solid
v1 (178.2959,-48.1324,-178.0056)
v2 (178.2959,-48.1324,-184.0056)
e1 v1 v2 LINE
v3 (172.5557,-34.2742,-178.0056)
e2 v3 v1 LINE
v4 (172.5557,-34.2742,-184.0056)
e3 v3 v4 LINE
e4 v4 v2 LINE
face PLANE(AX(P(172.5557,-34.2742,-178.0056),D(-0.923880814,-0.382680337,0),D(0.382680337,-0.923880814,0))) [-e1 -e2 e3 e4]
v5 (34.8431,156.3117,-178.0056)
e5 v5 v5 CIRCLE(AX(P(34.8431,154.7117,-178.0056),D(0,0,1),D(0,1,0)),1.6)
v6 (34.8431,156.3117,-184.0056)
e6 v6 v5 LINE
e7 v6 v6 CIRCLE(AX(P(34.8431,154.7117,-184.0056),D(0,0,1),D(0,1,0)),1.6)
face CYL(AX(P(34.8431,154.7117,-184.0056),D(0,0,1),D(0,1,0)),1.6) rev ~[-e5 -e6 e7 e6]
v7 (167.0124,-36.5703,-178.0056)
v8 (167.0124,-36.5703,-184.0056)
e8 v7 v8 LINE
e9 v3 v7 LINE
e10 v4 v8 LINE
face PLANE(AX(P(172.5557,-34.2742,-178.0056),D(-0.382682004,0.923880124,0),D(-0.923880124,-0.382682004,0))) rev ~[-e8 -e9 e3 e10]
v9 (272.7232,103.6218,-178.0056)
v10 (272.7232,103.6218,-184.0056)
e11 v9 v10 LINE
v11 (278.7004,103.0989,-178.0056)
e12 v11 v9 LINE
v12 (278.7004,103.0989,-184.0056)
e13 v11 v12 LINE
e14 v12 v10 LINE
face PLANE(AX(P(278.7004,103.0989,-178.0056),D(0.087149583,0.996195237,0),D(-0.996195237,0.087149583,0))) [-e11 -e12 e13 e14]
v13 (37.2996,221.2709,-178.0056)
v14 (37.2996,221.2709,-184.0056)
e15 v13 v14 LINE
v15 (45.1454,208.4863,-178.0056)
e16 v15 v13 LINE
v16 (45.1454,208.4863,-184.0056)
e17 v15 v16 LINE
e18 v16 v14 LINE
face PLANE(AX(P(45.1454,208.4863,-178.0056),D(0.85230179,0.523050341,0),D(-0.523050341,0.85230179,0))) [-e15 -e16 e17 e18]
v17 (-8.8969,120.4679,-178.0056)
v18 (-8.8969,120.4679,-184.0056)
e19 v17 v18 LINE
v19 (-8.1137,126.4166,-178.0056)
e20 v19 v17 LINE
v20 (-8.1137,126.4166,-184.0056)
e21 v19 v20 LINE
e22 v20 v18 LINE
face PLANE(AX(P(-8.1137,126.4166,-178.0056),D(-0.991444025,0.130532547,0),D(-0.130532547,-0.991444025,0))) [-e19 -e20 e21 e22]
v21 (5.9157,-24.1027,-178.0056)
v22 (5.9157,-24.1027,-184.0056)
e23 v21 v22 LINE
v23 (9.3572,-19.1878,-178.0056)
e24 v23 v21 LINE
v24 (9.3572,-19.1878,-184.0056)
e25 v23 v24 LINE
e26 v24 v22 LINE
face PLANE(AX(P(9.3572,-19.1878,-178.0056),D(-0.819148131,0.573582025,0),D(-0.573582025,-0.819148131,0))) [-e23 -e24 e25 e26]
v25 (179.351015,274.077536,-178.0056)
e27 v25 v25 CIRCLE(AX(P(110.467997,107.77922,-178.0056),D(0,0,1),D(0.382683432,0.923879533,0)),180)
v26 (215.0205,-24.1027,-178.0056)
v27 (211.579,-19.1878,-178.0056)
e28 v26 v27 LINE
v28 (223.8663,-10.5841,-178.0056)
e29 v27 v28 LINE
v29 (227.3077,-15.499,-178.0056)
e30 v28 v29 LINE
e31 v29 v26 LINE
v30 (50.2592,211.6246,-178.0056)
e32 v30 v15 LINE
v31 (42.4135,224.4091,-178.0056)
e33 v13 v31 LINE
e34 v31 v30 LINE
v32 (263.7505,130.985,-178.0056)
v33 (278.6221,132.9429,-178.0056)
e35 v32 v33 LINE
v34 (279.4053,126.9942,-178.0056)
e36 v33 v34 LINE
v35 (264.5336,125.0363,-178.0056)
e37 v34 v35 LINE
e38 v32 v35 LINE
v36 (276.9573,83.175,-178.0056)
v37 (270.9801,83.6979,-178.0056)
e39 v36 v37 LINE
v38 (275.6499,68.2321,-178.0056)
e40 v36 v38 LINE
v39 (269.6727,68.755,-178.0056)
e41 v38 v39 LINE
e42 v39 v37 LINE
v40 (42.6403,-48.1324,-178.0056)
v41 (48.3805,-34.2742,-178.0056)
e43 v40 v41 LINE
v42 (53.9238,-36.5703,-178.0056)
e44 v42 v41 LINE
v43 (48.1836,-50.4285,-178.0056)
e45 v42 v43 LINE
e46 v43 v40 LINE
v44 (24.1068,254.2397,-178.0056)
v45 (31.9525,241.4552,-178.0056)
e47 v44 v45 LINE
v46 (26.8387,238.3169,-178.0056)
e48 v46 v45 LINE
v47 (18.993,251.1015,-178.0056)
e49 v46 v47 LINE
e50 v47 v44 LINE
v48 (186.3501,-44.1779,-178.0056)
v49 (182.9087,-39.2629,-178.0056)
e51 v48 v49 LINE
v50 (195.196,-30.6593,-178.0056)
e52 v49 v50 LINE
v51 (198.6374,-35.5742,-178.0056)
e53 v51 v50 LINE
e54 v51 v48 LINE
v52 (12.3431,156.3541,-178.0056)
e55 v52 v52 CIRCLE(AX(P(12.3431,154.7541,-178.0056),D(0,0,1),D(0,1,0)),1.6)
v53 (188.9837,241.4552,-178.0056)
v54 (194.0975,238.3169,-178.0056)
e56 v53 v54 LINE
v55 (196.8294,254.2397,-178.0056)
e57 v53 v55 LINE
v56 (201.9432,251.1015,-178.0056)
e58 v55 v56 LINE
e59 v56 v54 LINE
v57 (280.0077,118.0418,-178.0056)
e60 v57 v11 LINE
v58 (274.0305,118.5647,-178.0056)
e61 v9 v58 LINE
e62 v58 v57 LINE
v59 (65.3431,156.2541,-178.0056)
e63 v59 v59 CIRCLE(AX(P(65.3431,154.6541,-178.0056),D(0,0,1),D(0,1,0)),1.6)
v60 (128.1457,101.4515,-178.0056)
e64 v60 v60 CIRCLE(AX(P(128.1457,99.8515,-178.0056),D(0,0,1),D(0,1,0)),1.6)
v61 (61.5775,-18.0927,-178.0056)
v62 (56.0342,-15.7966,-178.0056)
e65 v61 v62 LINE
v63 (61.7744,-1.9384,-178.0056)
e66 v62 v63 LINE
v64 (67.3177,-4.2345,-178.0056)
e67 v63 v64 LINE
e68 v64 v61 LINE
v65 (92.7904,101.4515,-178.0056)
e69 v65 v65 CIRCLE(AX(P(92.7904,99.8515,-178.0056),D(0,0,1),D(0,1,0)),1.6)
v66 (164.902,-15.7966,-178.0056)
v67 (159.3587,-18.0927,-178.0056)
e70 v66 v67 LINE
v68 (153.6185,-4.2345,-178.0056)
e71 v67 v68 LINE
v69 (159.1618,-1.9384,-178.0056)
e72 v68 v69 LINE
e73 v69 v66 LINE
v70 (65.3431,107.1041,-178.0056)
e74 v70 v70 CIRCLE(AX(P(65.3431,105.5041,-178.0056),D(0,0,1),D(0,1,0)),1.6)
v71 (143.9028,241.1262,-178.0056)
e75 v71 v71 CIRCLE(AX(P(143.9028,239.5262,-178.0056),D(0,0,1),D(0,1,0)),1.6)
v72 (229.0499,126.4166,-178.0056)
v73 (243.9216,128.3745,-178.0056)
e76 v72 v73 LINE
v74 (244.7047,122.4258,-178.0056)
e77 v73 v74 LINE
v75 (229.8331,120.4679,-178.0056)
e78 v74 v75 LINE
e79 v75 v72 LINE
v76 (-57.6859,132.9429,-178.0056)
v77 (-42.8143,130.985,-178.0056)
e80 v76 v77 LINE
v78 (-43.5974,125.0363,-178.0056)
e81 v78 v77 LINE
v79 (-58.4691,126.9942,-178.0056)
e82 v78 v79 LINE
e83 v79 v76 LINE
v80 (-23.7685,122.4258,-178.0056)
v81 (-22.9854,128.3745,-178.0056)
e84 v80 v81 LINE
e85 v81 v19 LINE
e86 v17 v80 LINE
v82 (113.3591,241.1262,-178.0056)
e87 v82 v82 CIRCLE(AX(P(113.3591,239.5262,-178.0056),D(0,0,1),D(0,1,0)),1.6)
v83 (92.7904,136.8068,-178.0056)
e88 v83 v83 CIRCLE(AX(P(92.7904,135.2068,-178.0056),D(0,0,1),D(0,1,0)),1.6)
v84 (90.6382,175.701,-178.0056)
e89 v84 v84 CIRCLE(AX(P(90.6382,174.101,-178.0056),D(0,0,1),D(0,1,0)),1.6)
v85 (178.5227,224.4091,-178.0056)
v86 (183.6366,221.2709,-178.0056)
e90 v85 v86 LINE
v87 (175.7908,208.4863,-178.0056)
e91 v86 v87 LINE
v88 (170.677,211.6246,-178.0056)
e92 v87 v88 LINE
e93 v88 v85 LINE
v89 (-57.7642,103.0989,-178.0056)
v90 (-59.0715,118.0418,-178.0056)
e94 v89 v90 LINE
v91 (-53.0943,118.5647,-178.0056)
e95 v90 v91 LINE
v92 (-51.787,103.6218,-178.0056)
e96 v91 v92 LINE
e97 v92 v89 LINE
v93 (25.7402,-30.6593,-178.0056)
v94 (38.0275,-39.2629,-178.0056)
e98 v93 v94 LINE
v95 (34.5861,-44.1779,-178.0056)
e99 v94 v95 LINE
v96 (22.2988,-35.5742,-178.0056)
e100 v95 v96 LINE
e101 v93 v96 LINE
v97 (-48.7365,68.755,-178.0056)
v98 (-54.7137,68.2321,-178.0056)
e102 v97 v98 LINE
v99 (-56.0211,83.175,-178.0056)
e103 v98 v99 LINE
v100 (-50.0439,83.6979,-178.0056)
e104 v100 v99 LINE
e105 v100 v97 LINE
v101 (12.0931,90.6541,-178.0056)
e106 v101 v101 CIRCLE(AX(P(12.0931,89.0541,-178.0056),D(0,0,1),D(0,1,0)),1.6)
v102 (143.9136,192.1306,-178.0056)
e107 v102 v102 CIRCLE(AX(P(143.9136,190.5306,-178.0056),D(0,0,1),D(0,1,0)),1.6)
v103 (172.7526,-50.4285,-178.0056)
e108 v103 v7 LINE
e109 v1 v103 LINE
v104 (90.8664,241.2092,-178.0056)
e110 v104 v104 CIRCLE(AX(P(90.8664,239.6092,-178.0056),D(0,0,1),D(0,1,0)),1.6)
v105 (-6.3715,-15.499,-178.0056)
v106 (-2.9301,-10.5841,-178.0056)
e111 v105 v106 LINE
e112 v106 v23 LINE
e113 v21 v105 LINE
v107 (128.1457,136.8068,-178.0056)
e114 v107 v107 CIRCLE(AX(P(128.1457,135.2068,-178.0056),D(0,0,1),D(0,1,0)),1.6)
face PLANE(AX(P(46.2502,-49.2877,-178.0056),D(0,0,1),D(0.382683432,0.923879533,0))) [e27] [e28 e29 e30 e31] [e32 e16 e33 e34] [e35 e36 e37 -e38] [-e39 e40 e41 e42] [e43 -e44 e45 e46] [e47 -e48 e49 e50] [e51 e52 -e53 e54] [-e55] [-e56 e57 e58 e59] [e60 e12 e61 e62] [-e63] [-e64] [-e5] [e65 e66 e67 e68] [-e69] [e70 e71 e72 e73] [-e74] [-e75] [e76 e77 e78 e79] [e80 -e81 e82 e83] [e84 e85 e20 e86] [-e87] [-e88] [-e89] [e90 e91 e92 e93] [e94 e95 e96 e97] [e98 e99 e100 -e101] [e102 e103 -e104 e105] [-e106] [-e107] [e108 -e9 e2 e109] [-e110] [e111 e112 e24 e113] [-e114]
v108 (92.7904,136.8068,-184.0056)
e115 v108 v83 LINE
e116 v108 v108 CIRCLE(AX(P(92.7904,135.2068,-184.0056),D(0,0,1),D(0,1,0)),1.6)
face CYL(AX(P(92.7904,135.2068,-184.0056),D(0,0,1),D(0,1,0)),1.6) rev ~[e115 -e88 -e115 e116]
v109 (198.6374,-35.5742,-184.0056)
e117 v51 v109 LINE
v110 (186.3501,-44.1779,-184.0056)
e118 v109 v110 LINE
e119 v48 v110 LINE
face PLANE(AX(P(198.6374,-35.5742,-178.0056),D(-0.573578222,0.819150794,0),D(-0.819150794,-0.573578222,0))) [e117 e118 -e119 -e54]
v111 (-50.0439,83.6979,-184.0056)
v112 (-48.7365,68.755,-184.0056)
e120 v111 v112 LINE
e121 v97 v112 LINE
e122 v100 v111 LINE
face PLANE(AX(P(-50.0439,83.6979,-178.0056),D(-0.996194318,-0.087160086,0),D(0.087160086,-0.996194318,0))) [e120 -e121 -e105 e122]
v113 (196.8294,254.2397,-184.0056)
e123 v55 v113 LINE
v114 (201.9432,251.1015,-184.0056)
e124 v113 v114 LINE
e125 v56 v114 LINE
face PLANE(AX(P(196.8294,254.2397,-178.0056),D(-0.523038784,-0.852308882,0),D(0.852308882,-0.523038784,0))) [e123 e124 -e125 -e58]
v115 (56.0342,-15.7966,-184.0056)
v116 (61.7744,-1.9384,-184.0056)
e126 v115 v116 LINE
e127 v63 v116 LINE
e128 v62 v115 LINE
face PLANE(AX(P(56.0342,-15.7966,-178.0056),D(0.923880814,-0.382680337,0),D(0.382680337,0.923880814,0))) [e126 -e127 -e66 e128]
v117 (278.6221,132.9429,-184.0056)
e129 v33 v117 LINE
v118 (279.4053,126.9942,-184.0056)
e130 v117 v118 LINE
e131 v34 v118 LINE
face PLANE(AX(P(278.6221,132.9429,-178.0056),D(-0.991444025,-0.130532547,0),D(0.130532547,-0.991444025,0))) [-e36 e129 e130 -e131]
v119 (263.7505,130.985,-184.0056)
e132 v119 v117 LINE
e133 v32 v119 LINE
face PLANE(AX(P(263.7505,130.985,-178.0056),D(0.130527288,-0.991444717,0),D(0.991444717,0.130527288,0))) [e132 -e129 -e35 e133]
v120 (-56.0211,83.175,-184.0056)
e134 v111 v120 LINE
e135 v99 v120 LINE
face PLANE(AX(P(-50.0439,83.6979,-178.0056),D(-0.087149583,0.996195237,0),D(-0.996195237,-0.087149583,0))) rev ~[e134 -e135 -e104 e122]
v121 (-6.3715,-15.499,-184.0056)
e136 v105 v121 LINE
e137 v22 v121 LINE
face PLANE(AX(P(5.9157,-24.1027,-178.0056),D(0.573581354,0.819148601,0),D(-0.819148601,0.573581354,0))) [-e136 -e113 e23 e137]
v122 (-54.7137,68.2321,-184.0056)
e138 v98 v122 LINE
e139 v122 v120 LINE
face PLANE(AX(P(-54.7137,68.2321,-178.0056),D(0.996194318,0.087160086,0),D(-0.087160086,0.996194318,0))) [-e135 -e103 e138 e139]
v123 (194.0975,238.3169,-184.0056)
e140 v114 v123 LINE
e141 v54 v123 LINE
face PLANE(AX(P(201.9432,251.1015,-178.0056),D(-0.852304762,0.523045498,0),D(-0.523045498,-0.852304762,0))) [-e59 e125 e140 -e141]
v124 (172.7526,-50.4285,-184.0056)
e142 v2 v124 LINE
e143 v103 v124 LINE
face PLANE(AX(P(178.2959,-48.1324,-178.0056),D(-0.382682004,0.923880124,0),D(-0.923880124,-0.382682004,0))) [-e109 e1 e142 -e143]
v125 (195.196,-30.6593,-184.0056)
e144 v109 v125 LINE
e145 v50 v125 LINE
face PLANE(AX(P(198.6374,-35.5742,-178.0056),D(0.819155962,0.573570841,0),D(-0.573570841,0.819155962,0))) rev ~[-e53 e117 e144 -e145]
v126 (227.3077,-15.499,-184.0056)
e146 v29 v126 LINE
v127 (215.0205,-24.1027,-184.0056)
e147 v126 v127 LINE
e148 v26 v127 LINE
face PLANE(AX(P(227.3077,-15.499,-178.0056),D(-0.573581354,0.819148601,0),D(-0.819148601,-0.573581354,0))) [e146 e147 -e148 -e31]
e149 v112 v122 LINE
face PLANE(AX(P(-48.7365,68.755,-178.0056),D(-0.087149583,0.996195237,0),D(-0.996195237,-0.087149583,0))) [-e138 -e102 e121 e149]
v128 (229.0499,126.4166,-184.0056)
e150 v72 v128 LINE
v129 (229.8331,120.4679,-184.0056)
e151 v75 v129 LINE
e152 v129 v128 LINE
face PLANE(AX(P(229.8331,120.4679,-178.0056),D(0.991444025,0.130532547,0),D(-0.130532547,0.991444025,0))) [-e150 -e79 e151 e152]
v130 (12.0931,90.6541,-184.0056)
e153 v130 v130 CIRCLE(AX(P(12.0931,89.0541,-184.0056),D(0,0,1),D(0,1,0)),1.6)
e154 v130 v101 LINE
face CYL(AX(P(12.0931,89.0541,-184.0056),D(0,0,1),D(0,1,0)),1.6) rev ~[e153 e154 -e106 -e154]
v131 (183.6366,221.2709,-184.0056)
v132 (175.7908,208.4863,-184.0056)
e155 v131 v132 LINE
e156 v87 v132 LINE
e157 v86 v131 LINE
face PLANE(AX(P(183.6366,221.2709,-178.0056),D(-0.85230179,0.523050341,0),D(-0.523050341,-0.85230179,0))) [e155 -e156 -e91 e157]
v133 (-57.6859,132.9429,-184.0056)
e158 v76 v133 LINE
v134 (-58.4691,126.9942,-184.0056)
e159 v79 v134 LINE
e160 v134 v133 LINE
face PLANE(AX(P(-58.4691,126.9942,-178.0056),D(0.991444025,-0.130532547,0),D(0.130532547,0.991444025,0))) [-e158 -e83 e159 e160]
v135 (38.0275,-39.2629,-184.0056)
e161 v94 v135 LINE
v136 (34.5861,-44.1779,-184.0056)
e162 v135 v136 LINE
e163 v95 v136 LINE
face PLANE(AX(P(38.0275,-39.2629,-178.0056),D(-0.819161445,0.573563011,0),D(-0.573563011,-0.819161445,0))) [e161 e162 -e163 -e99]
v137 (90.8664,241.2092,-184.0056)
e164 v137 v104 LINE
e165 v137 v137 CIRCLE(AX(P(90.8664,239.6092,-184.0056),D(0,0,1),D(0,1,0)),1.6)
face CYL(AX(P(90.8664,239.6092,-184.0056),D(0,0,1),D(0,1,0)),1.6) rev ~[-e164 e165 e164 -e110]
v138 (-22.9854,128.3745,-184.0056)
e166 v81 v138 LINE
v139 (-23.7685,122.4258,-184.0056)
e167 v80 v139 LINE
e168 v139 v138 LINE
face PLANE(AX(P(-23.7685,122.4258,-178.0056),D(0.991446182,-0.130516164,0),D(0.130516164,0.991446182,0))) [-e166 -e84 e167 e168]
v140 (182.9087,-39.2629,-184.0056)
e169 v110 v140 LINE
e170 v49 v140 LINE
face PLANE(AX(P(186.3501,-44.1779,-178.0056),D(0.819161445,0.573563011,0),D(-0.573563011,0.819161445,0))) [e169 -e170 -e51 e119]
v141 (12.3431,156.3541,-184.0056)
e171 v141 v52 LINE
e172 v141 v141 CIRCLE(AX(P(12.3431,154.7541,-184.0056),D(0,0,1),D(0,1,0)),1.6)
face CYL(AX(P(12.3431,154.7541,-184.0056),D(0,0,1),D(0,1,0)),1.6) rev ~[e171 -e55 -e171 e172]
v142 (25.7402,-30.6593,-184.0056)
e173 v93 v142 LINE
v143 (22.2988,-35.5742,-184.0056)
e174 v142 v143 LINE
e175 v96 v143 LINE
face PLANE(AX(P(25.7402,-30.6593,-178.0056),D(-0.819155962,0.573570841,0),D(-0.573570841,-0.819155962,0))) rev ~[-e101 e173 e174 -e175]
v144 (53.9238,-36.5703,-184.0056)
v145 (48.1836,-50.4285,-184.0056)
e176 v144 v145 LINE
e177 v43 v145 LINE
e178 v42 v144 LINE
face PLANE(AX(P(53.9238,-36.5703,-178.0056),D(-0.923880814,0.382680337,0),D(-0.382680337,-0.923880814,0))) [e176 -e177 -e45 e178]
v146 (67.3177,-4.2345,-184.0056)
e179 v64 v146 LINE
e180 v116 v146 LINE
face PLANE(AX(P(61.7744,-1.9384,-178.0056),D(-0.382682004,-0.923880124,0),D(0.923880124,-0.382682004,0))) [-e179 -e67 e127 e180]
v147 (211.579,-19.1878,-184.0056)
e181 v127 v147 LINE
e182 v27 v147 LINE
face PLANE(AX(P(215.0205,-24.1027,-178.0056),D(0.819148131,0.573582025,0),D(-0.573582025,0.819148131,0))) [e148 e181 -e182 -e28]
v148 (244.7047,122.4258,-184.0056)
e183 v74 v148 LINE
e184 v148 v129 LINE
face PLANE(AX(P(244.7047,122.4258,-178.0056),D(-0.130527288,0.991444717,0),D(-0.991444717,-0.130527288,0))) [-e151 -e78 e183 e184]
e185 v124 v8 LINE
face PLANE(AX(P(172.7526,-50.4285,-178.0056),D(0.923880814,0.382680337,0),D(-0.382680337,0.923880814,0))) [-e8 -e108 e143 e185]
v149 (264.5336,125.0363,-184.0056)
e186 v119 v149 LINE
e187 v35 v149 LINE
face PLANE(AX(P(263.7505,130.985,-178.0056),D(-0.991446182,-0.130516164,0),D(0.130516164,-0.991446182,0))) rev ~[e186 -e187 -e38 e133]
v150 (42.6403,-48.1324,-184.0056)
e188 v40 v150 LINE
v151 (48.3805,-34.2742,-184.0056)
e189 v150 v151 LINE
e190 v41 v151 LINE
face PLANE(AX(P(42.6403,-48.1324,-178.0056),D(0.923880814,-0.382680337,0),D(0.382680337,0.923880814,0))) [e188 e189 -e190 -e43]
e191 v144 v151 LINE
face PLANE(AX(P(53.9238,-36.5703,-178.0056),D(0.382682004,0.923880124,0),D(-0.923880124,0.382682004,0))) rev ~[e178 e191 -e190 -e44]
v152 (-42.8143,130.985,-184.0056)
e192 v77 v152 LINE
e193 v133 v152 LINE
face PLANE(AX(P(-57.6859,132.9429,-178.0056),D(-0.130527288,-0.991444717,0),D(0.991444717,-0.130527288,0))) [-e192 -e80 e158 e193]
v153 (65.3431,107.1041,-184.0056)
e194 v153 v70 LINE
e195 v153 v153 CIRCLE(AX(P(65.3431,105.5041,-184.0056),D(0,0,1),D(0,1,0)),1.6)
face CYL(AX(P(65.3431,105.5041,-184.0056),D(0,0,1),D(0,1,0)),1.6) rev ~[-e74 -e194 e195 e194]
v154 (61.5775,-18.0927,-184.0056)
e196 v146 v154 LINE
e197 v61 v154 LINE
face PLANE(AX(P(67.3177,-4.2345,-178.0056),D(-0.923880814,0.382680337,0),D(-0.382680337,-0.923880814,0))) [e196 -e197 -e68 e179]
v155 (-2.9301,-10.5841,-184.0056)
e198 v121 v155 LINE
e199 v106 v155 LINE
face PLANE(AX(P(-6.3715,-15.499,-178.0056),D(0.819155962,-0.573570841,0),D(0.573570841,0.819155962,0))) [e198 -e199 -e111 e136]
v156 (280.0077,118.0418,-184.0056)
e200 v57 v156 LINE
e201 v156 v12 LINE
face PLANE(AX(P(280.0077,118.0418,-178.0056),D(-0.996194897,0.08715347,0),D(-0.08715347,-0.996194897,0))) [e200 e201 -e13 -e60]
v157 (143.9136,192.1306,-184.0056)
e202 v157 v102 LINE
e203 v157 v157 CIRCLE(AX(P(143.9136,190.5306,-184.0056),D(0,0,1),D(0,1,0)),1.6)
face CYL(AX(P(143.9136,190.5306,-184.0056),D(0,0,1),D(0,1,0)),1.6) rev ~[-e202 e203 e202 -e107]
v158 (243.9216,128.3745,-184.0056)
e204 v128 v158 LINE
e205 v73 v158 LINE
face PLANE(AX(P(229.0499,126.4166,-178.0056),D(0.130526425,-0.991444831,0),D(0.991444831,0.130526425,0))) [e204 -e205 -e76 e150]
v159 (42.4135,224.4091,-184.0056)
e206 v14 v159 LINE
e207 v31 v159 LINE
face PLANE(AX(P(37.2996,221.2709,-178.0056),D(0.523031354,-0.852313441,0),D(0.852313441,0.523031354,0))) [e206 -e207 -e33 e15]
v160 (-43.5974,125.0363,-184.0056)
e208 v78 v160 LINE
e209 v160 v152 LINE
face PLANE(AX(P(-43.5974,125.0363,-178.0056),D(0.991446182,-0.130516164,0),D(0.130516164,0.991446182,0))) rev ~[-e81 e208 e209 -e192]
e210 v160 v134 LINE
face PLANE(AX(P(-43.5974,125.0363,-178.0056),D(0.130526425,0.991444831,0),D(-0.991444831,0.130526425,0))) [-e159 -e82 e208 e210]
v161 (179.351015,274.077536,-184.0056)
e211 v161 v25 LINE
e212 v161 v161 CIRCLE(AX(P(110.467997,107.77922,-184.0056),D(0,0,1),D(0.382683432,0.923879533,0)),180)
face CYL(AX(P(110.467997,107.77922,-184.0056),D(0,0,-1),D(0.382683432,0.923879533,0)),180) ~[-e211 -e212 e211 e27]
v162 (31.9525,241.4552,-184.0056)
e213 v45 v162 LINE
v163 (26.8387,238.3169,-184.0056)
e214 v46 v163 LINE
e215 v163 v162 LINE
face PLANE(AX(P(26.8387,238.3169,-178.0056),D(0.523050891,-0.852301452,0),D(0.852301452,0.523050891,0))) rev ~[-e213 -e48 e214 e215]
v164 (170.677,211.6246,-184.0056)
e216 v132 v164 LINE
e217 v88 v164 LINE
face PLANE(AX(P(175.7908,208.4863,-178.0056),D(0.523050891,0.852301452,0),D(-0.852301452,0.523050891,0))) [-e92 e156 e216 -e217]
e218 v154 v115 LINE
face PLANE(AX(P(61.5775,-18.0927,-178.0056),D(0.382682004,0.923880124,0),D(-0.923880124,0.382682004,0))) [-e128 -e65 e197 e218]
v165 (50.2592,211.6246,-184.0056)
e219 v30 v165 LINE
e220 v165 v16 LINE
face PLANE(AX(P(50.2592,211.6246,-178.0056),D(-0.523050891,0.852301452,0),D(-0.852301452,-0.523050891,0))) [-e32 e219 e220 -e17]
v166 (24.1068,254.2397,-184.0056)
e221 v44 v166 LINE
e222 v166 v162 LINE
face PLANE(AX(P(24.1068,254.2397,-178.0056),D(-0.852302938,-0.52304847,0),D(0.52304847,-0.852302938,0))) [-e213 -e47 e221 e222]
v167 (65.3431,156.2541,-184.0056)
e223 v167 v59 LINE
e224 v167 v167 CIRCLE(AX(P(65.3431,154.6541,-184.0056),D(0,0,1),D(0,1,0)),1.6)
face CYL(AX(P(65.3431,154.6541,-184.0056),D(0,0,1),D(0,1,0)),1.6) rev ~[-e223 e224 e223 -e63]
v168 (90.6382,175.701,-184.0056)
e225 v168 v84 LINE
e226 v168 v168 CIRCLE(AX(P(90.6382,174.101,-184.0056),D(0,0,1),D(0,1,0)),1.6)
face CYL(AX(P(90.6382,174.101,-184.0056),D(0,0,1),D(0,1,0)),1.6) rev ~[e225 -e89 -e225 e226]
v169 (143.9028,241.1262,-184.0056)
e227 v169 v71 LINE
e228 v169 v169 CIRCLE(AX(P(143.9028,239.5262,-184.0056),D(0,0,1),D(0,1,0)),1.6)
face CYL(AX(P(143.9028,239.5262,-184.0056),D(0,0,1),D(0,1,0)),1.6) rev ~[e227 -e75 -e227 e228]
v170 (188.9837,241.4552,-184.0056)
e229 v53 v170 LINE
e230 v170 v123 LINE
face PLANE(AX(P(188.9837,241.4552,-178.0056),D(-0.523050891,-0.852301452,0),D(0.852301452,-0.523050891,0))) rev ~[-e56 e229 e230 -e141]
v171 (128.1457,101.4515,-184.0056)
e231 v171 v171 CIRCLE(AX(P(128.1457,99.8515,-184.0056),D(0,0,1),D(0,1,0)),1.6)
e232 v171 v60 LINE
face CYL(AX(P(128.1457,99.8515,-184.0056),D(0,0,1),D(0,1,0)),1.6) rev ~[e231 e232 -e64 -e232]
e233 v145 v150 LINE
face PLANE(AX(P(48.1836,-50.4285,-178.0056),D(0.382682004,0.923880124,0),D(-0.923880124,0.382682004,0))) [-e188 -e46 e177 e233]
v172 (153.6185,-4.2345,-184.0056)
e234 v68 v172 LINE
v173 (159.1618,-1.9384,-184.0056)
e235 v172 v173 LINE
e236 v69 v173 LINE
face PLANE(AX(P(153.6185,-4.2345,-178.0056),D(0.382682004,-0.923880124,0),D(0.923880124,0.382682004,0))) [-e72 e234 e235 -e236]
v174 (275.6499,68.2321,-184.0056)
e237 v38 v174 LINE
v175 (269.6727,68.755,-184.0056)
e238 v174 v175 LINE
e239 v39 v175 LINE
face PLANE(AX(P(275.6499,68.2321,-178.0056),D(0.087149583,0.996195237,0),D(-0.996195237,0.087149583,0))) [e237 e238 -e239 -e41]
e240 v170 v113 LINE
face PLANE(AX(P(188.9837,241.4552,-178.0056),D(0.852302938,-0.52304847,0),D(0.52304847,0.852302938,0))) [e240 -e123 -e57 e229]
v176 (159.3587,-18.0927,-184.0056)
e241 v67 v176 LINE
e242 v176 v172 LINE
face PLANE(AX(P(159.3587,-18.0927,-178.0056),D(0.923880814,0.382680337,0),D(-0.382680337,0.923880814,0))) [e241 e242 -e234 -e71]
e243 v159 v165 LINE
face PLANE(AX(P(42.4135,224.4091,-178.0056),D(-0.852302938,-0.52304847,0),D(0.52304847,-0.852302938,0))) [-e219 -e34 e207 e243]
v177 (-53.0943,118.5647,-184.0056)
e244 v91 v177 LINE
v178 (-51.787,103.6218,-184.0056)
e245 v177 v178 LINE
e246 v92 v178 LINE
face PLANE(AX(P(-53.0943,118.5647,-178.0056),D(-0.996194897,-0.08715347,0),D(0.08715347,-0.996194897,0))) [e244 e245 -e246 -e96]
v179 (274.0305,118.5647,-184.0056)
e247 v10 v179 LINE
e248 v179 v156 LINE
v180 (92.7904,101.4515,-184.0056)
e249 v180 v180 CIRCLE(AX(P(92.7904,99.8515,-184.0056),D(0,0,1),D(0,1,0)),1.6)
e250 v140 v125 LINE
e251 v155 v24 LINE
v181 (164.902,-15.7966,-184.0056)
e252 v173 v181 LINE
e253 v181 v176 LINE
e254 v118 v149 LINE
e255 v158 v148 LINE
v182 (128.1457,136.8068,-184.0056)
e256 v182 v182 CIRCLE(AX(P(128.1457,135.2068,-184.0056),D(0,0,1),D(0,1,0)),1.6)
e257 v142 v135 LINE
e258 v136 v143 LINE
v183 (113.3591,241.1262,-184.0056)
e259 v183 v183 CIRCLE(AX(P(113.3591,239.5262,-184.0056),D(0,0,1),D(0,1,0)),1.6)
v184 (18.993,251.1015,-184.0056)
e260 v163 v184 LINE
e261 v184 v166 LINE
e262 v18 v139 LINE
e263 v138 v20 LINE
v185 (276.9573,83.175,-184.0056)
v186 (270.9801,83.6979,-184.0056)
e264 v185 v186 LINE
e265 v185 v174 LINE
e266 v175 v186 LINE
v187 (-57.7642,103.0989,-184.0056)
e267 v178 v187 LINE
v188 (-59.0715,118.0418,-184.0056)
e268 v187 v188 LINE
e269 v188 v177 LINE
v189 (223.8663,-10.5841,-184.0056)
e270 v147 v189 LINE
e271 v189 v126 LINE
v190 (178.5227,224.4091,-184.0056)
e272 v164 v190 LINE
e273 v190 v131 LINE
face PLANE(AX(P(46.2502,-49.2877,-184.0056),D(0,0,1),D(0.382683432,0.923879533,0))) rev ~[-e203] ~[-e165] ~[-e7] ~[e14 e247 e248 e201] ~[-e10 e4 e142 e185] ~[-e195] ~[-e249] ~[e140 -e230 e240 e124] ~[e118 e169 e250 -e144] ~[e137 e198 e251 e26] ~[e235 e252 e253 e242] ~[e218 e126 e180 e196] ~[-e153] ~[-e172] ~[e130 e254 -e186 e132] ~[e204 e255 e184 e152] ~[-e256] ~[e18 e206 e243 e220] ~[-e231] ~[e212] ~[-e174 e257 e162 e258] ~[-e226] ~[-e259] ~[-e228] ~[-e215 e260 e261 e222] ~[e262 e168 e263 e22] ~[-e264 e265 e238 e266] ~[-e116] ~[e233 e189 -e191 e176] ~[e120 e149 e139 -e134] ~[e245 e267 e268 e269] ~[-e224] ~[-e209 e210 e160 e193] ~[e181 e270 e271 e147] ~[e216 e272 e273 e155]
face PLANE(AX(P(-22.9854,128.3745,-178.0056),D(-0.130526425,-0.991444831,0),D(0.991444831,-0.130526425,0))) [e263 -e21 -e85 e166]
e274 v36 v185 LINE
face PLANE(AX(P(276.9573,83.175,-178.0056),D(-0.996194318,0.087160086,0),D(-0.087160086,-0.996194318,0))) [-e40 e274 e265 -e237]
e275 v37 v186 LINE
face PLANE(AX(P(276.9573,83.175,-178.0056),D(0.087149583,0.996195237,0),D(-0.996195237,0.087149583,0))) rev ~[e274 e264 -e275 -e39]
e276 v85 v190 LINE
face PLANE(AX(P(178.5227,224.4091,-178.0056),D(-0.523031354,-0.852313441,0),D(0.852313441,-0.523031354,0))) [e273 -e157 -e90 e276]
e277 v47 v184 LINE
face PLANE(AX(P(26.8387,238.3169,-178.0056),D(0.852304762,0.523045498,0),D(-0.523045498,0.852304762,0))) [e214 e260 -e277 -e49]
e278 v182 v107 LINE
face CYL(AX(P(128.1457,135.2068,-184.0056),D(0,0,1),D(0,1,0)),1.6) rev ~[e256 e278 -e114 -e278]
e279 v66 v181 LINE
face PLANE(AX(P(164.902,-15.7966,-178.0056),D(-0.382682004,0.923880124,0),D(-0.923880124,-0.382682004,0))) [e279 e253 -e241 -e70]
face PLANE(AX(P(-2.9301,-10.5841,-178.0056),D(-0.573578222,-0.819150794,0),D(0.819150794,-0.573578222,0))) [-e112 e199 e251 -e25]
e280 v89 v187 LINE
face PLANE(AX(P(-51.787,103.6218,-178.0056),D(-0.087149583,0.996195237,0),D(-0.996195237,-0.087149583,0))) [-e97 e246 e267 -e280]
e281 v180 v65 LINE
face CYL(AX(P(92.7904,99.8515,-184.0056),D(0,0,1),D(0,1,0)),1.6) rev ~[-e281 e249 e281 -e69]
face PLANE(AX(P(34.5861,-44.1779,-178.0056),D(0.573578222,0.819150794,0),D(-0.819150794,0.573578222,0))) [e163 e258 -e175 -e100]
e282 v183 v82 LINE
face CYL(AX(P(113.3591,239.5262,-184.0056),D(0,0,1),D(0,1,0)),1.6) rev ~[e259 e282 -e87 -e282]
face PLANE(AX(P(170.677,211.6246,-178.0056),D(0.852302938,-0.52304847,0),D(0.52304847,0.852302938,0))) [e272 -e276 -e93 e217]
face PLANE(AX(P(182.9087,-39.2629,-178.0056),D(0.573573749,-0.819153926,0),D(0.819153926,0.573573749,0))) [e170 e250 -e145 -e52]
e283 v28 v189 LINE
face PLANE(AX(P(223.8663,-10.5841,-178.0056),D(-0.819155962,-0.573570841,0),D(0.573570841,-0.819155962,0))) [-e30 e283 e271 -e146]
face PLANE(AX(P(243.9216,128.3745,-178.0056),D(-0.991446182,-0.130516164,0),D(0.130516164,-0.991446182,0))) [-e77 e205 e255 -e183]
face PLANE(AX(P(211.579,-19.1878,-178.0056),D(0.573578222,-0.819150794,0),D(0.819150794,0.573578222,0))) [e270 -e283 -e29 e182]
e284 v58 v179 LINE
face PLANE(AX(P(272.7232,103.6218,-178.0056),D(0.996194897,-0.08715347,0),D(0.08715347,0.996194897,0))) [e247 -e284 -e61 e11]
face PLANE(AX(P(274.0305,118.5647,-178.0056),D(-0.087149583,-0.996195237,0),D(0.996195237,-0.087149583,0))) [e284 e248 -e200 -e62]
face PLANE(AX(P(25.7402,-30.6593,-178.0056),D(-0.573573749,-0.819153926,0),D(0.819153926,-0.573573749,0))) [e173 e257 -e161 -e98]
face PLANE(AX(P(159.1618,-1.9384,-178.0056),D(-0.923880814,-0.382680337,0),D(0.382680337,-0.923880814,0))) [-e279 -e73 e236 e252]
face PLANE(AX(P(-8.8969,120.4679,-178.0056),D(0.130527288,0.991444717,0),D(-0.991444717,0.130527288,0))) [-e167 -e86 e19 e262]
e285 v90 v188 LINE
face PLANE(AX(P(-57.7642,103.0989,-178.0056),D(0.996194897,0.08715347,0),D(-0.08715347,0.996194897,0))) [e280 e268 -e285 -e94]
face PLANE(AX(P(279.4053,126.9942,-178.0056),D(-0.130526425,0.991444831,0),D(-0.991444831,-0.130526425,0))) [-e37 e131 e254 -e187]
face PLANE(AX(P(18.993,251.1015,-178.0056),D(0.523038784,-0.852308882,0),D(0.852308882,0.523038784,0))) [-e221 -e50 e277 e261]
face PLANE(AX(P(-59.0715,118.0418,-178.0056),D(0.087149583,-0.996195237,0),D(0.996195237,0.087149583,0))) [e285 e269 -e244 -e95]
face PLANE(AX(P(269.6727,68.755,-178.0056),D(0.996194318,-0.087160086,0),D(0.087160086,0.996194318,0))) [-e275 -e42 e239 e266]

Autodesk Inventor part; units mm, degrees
ref_plane "РабПлоскость1" through (46.2502, -49.2877, -184.0056) normal (0, 0, 1) x (0.3827, 0.9239, 0)
sketch "Эскиз1" plane through (46.2502, -49.2877, -184.0056) normal (0, 0, 1) x (0.3827, 0.9239, 0)
  arc A0 (-6.0083, -38.3575) -> (120.8555, -172.4727) centre (169.686, 0.7774) ccw construction
  circle A1 centre (169.686, 0.7774) radius 180
  line L0 (16.5638, -6.2333) -> (16.4068, -0.2354) projected
  line L1 (1.4119, -0.628) -> (16.4068, -0.2354) projected
  line L2 (1.569, -6.626) -> (1.4119, -0.628) projected
  line L3 (16.5638, -6.2333) -> (1.569, -6.626) projected
  line L4 (51.3948, 0.6808) -> (51.5518, -5.3171) projected
  line L5 (36.3999, 0.2882) -> (51.3948, 0.6808) projected
  line L6 (36.557, -5.7098) -> (36.3999, 0.2882) projected
  line L7 (51.5518, -5.3171) -> (36.557, -5.7098) projected
  line L8 (136.419, -150.6403) -> (130.5848, -149.2396) projected
  line L9 (127.0831, -163.8252) -> (130.5848, -149.2396) projected
  line L10 (132.9173, -165.2259) -> (127.0831, -163.8252) projected
  line L11 (136.419, -150.6403) -> (132.9173, -165.2259) projected
  line L12 (138.7554, -115.2067) -> (144.5896, -116.6074) projected
  line L13 (135.2537, -129.7922) -> (138.7554, -115.2067) projected
  line L14 (141.0879, -131.1929) -> (135.2537, -129.7922) projected
  line L15 (144.5896, -116.6074) -> (141.0879, -131.1929) projected
  line L16 (240.2947, -96.2969) -> (245.0571, -92.6474) projected
  line L17 (249.4184, -108.2031) -> (240.2947, -96.2969) projected
  line L18 (254.1809, -104.5536) -> (249.4184, -108.2031) projected
  line L19 (245.0571, -92.6474) -> (254.1809, -104.5536) projected
  line L20 (266.3459, -120.4285) -> (261.5834, -124.078) projected
  line L21 (270.7071, -135.9842) -> (261.5834, -124.078) projected
  line L22 (275.4696, -132.3347) -> (270.7071, -135.9842) projected
  line L23 (266.3459, -120.4285) -> (275.4696, -132.3347) projected
  line L24 (257.5837, 24.1469) -> (256.2302, 29.9922) projected
  line L25 (241.6169, 26.6085) -> (256.2302, 29.9922) projected
  line L26 (242.9703, 20.7632) -> (241.6169, 26.6085) projected
  line L27 (257.5837, 24.1469) -> (242.9703, 20.7632) projected
  line L28 (290.3281, 37.8875) -> (291.6816, 32.0422) projected
  line L29 (275.7147, 34.5038) -> (290.3281, 37.8875) projected
  line L30 (277.0682, 28.6585) -> (275.7147, 34.5038) projected
  line L31 (291.6816, 32.0422) -> (277.0682, 28.6585) projected
  line L32 (229.5815, 104.8039) -> (224.3086, 107.6669) projected
  line L33 (236.7388, 117.9862) -> (229.5815, 104.8039) projected
  line L34 (231.4659, 120.8491) -> (236.7388, 117.9862) projected
  line L35 (224.3086, 107.6669) -> (231.4659, 120.8491) projected
  line L36 (241.0091, 138.4255) -> (246.282, 135.5625) projected
  line L37 (253.4394, 148.7448) -> (246.282, 135.5625) projected
  line L38 (248.1665, 151.6077) -> (253.4394, 148.7448) projected
  line L39 (241.0091, 138.4255) -> (248.1665, 151.6077) projected
  line L40 (52.83, 82.5251) -> (48.8152, 78.0662) projected
  line L41 (59.9624, 68.0293) -> (48.8152, 78.0662) projected
  line L42 (63.9772, 72.4881) -> (59.9624, 68.0293) projected
  line L43 (52.83, 82.5251) -> (63.9772, 72.4881) projected
  line L44 (22.8052, 101.4858) -> (26.8199, 105.9447) projected
  line L45 (33.9523, 91.4489) -> (22.8052, 101.4858) projected
  line L46 (37.9671, 95.9077) -> (33.9523, 91.4489) projected
  line L47 (26.8199, 105.9447) -> (37.9671, 95.9077) projected
  point P0 (27.8367, 61.5912)
extrude "Выдавливание1" add sketch "Эскиз1" along normal blind 6 contours A1 | L3 L2 L1 L0 | L4 L7 L6 L5 | L11 L10 L9 L8 | L12 L15 L14 L13 | L16 L19 L18 L17 | L23 L22 L21 L20 | L27 L26 L25 L24 | L28 L31 L30 L29 | L32 L35 L34 L33 | L39 L38 L37 L36 | L43 L42 L41 L40 | L44 L47 L46 L45
sketch "Эскиз2" plane through (110.4681, 107.7791, -178.0056) normal (0, 0, 1) x (1, 0, 0)
  line L0 (119.365, 12.6888) -> (118.5818, 18.6375) projected
  line L1 (134.2366, 14.6467) -> (119.365, 12.6888) projected
  line L2 (133.4535, 20.5954) -> (134.2366, 14.6467) projected
  line L3 (118.5818, 18.6375) -> (133.4535, 20.5954) projected
  line L4 (153.2824, 23.2059) -> (154.0655, 17.2572) projected
  line L5 (168.9372, 19.2151) -> (154.0655, 17.2572) projected
  line L6 (168.154, 25.1638) -> (168.9372, 19.2151) projected
  line L7 (153.2824, 23.2059) -> (168.154, 25.1638) projected
  line L8 (65.3227, 100.7072) -> (60.2089, 103.8455) projected
  line L9 (73.1685, 113.4918) -> (65.3227, 100.7072) projected
  line L10 (68.0546, 116.63) -> (73.1685, 113.4918) projected
  line L11 (60.2089, 103.8455) -> (68.0546, 116.63) projected
  line L12 (78.5156, 133.6761) -> (83.6294, 130.5378) projected
  line L13 (91.4751, 143.3224) -> (83.6294, 130.5378) projected
  line L14 (86.3613, 146.4606) -> (91.4751, 143.3224) projected
  line L15 (78.5156, 133.6761) -> (86.3613, 146.4606) projected
  line L16 (-118.5818, 18.6375) -> (-119.365, 12.6888) projected
  line L17 (-133.4535, 20.5954) -> (-118.5818, 18.6375) projected
  line L18 (-134.2366, 14.6467) -> (-133.4535, 20.5954) projected
  line L19 (-119.365, 12.6888) -> (-134.2366, 14.6467) projected
  line L20 (-154.0655, 17.2572) -> (-153.2824, 23.2059) projected
  line L21 (-168.154, 25.1638) -> (-153.2824, 23.2059) projected
  line L22 (-168.9372, 19.2151) -> (-168.154, 25.1638) projected
  line L23 (-154.0655, 17.2572) -> (-168.9372, 19.2151) projected
  line L24 (-56.5443, -144.3494) -> (-62.0876, -142.0533) projected
  line L25 (-67.8278, -155.9115) -> (-62.0876, -142.0533) projected
  line L26 (-62.2845, -158.2076) -> (-67.8278, -155.9115) projected
  line L27 (-56.5443, -144.3494) -> (-62.2845, -158.2076) projected
  line L28 (-48.6937, -109.7175) -> (-43.1504, -112.0136) projected
  line L29 (-54.4339, -123.5757) -> (-48.6937, -109.7175) projected
  line L30 (-48.8906, -125.8718) -> (-54.4339, -123.5757) projected
  line L31 (-43.1504, -112.0136) -> (-48.8906, -125.8718) projected
  line L32 (62.0876, -142.0533) -> (56.5443, -144.3494) projected
  line L33 (62.2845, -158.2076) -> (56.5443, -144.3494) projected
  line L34 (67.8278, -155.9115) -> (62.2845, -158.2076) projected
  line L35 (62.0876, -142.0533) -> (67.8278, -155.9115) projected
  line L36 (43.1504, -112.0136) -> (48.6937, -109.7175) projected
  line L37 (48.8906, -125.8718) -> (43.1504, -112.0136) projected
  line L38 (54.4339, -123.5757) -> (48.8906, -125.8718) projected
  line L39 (48.6937, -109.7175) -> (54.4339, -123.5757) projected
  line L40 (-83.6294, 130.5378) -> (-78.5156, 133.6761) projected
  line L41 (-86.3613, 146.4606) -> (-78.5156, 133.6761) projected
  line L42 (-91.4751, 143.3224) -> (-86.3613, 146.4606) projected
  line L43 (-83.6294, 130.5378) -> (-91.4751, 143.3224) projected
  line L44 (-60.2089, 103.8455) -> (-65.3227, 100.7072) projected
  line L45 (-68.0546, 116.63) -> (-60.2089, 103.8455) projected
  line L46 (-73.1685, 113.4918) -> (-68.0546, 116.63) projected
  line L47 (-65.3227, 100.7072) -> (-73.1685, 113.4918) projected
  point P0 (-110.4681, -107.7791)
extrude "Выдавливание2" cut sketch "Эскиз2" against normal through all
sketch "Эскиз3" plane through (110.4681, 107.7791, -178.0056) normal (0, 0, 1) x (1, 0, 0)
  line L0 (163.5624, 10.7856) -> (169.5396, 10.2627) projected
  line L1 (162.2551, -4.1573) -> (163.5624, 10.7856) projected
  line L2 (168.2323, -4.6802) -> (162.2551, -4.1573) projected
  line L3 (169.5396, 10.2627) -> (168.2323, -4.6802) projected
  line L4 (166.4892, -24.6041) -> (160.512, -24.0812) projected
  line L5 (159.2046, -39.0241) -> (160.512, -24.0812) projected
  line L6 (165.1818, -39.547) -> (159.2046, -39.0241) projected
  line L7 (166.4892, -24.6041) -> (165.1818, -39.547) projected
  line L8 (113.3982, -118.3632) -> (116.8396, -123.2781) projected
  line L9 (101.1109, -126.9669) -> (113.3982, -118.3632) projected
  line L10 (104.5524, -131.8818) -> (101.1109, -126.9669) projected
  line L11 (116.8396, -123.2781) -> (104.5524, -131.8818) projected
  line L12 (88.1693, -143.3533) -> (84.7279, -138.4384) projected
  line L13 (72.4406, -147.042) -> (84.7279, -138.4384) projected
  line L14 (75.882, -151.957) -> (72.4406, -147.042) projected
  line L15 (88.1693, -143.3533) -> (75.882, -151.957) projected
  line L16 (-169.5396, 10.2627) -> (-163.5624, 10.7856) projected
  line L17 (-168.2323, -4.6802) -> (-169.5396, 10.2627) projected
  line L18 (-162.2551, -4.1573) -> (-168.2323, -4.6802) projected
  line L19 (-163.5624, 10.7856) -> (-162.2551, -4.1573) projected
  line L20 (-160.512, -24.0812) -> (-166.4892, -24.6041) projected
  line L21 (-165.1818, -39.547) -> (-166.4892, -24.6041) projected
  line L22 (-159.2046, -39.0241) -> (-165.1818, -39.547) projected
  line L23 (-160.512, -24.0812) -> (-159.2046, -39.0241) projected
  line L24 (-116.8396, -123.2781) -> (-113.3982, -118.3632) projected
  line L25 (-104.5524, -131.8818) -> (-116.8396, -123.2781) projected
  line L26 (-101.1109, -126.9669) -> (-104.5524, -131.8818) projected
  line L27 (-113.3982, -118.3632) -> (-101.1109, -126.9669) projected
  line L28 (-84.7279, -138.4384) -> (-88.1693, -143.3533) projected
  line L29 (-75.882, -151.957) -> (-88.1693, -143.3533) projected
  line L30 (-72.4406, -147.042) -> (-75.882, -151.957) projected
  line L31 (-84.7279, -138.4384) -> (-72.4406, -147.042) projected
  point P0 (-110.4681, -107.7791)
extrude "Выдавливание3" cut sketch "Эскиз3" against normal through all
sketch "Эскиз4" plane through (110.4681, 107.7791, -184.0056) normal (0, 0, -1) x (-1, 0, 0)
  circle A0 centre (0, 0) radius 180 construction
  circle A1 centre (0, 0) radius 180 construction
  line L0 (200, -150) -> (-200, -150)
  line L1 (-200, -150) -> (-200, 150)
  line L2 (-200, 150) -> (200, 150)
  line L3 (200, 150) -> (200, -150)
  line L4 (200, -150) -> (-200, 150) construction
  line L5 (-200, -150) -> (200, 150) construction
  line L6 (-262.6084, 185.8696) -> (306.1084, 185.8696)
  line L7 (306.1084, 185.8696) -> (306.1084, -212.6524)
  line L8 (306.1084, -212.6524) -> (-262.6084, -212.6524)
  line L9 (-262.6084, -212.6524) -> (-262.6084, 185.8696)
  point P0 (110.4681, -107.7791)
  dimension "d6" = 400
  dimension "d7" = 300
extrude "Выдавливание4" [suppressed]
sketch "Эскиз5" plane through (46.2502, -49.2877, -184.0056) normal (0, 0, -1) x (-0.9239, 0.3827, 0)
  arc A0 (32.2974, 186.9869) -> (-9.2771, 204.2076) centre (4.5085, 178.6938) ccw construction
  line L0 (32.2974, 186.9869) -> (18.2942, 153.1799) construction
  arc A1 (-23.2804, 170.4007) -> (18.2942, 153.1799) centre (4.5085, 178.6938) ccw construction
  line L1 (-23.2804, 170.4007) -> (-9.2771, 204.2076) construction
  circle A2 centre (-0.1125, 153.8187) radius 1.6 construction
  circle A3 centre (-9.8133, 157.8368) radius 1.6 construction
  circle A4 centre (18.8303, 199.5507) radius 1.6 construction
  circle A5 centre (9.1296, 203.5689) radius 1.6 construction
  circle A6 centre (-18.5885, 169.1267) radius 1.6 construction
  circle A7 centre (-5.0586, 201.7908) radius 1.6 construction
  circle A8 centre (27.6055, 188.2609) radius 1.6 construction
  circle A9 centre (14.0756, 155.5968) radius 1.6 construction
  line L2 (5.8066, 155.6964) -> (21.688, 194.0374) construction
  line L3 (21.688, 194.0374) -> (15.2208, 196.7162) construction
  line L4 (15.2208, 196.7162) -> (15.9862, 198.564) construction
  arc A10 (15.9862, 198.564) -> (10.4429, 200.8601) centre (12.8797, 198.9036) ccw construction
  line L5 (10.4429, 200.8601) -> (9.6776, 199.0123) construction
  line L6 (9.6776, 199.0123) -> (3.2104, 201.6911) construction
  line L7 (3.2104, 201.6911) -> (-12.671, 163.3501) construction
  line L8 (-12.671, 163.3501) -> (-6.2038, 160.6713) construction
  line L9 (-6.2038, 160.6713) -> (-6.9692, 158.8236) construction
  arc A11 (-6.9692, 158.8236) -> (-1.4259, 156.5275) centre (-3.8627, 158.4839) ccw construction
  line L10 (-1.4259, 156.5275) -> (-0.6605, 158.3752) construction
  line L11 (-0.6605, 158.3752) -> (5.8066, 155.6964) construction
  point P0 (61.5912, 27.8367)
hole "Отверстие1" at (92.7904, 99.8515, -184.0056) at (92.7904, 135.2068, -184.0056) at (128.1457, 135.2068, -184.0056) at (128.1457, 99.8515, -184.0056) direction (0, 0, 1) diameter 3.2 end through all clearance for "болты с шестигранной головкой / гайка ГОСТ 12876-67" size "M3" standard "ГОСТ"
sketch "Эскиз6" plane through (46.2502, -49.2877, -184.0056) normal (0, 0, -1) x (-0.9239, 0.3827, 0)
  circle A0 centre (84.4983, 114.7398) radius 1.625 construction
  circle A1 centre (41.5968, 150.3155) radius 1.625 construction
  circle A2 centre (60.4057, 195.7242) radius 1.625 construction
  circle A3 centre (88.6061, 184.1055) radius 1.625 construction
  circle A4 centre (109.4096, 175.5344) radius 1.625 construction
  point P0 (61.5912, 27.8367)
hole "Отверстие2" at (12.0931, 89.0541, -184.0056) at (65.3431, 105.5041, -184.0056) at (12.3431, 154.7541, -184.0056) at (34.8431, 154.7117, -184.0056) at (65.3431, 154.6541, -184.0056) direction (0, 0, 1) diameter 3.2 end through all clearance for "болты с шестигранной головкой / гайка ГОСТ 12876-67" size "M3" standard "ГОСТ"
sketch "Эскиз7" plane through (46.2502, -49.2877, -184.0056) normal (0, 0, -1) x (-0.9239, 0.3827, 0)
  point P0 (61.5912, 27.8367)
  point P1 (44.478, 223.3708)
  point P2 (1.5454, 258.9374)
  point P3 (20.3051, 304.1993)
  point P4 (48.5237, 292.5107)
  point P5 (69.3361, 283.9798)
hole "Отверстие3" at (90.6382, 174.101, -184.0056) at (143.9136, 190.5306, -184.0056) at (143.9028, 239.5262, -184.0056) at (113.3591, 239.5262, -184.0056) at (90.8664, 239.6092, -184.0056) direction (0, 0, 1) diameter 3.2 end through all clearance for "болты с шестигранной головкой / гайка ГОСТ 12876-67" size "M3" standard "ГОСТ"
sketch "Эскиз8" plane through (110.4681, 107.7791, -178.0056) normal (0, 0, 1) x (1, 0, 0)
  circle A0 centre (0, 0) radius 180 construction
  line L0 (0, 0) -> (0, 208.8659)
  line L1 (0, 0) -> (227.021, 0)
  point P0 (-110.4681, -107.7791)
ref_plane "РабПлоскость2" through (110.4681, 107.7791, -178.0056) normal (1, 0, 0) x (0, 1, 0)
ref_plane "РабПлоскость3" through (110.4681, 107.7791, -178.0056) normal (0, 1, 0) x (-1, 0, 0)
properties part number "Основание_нижнее"
